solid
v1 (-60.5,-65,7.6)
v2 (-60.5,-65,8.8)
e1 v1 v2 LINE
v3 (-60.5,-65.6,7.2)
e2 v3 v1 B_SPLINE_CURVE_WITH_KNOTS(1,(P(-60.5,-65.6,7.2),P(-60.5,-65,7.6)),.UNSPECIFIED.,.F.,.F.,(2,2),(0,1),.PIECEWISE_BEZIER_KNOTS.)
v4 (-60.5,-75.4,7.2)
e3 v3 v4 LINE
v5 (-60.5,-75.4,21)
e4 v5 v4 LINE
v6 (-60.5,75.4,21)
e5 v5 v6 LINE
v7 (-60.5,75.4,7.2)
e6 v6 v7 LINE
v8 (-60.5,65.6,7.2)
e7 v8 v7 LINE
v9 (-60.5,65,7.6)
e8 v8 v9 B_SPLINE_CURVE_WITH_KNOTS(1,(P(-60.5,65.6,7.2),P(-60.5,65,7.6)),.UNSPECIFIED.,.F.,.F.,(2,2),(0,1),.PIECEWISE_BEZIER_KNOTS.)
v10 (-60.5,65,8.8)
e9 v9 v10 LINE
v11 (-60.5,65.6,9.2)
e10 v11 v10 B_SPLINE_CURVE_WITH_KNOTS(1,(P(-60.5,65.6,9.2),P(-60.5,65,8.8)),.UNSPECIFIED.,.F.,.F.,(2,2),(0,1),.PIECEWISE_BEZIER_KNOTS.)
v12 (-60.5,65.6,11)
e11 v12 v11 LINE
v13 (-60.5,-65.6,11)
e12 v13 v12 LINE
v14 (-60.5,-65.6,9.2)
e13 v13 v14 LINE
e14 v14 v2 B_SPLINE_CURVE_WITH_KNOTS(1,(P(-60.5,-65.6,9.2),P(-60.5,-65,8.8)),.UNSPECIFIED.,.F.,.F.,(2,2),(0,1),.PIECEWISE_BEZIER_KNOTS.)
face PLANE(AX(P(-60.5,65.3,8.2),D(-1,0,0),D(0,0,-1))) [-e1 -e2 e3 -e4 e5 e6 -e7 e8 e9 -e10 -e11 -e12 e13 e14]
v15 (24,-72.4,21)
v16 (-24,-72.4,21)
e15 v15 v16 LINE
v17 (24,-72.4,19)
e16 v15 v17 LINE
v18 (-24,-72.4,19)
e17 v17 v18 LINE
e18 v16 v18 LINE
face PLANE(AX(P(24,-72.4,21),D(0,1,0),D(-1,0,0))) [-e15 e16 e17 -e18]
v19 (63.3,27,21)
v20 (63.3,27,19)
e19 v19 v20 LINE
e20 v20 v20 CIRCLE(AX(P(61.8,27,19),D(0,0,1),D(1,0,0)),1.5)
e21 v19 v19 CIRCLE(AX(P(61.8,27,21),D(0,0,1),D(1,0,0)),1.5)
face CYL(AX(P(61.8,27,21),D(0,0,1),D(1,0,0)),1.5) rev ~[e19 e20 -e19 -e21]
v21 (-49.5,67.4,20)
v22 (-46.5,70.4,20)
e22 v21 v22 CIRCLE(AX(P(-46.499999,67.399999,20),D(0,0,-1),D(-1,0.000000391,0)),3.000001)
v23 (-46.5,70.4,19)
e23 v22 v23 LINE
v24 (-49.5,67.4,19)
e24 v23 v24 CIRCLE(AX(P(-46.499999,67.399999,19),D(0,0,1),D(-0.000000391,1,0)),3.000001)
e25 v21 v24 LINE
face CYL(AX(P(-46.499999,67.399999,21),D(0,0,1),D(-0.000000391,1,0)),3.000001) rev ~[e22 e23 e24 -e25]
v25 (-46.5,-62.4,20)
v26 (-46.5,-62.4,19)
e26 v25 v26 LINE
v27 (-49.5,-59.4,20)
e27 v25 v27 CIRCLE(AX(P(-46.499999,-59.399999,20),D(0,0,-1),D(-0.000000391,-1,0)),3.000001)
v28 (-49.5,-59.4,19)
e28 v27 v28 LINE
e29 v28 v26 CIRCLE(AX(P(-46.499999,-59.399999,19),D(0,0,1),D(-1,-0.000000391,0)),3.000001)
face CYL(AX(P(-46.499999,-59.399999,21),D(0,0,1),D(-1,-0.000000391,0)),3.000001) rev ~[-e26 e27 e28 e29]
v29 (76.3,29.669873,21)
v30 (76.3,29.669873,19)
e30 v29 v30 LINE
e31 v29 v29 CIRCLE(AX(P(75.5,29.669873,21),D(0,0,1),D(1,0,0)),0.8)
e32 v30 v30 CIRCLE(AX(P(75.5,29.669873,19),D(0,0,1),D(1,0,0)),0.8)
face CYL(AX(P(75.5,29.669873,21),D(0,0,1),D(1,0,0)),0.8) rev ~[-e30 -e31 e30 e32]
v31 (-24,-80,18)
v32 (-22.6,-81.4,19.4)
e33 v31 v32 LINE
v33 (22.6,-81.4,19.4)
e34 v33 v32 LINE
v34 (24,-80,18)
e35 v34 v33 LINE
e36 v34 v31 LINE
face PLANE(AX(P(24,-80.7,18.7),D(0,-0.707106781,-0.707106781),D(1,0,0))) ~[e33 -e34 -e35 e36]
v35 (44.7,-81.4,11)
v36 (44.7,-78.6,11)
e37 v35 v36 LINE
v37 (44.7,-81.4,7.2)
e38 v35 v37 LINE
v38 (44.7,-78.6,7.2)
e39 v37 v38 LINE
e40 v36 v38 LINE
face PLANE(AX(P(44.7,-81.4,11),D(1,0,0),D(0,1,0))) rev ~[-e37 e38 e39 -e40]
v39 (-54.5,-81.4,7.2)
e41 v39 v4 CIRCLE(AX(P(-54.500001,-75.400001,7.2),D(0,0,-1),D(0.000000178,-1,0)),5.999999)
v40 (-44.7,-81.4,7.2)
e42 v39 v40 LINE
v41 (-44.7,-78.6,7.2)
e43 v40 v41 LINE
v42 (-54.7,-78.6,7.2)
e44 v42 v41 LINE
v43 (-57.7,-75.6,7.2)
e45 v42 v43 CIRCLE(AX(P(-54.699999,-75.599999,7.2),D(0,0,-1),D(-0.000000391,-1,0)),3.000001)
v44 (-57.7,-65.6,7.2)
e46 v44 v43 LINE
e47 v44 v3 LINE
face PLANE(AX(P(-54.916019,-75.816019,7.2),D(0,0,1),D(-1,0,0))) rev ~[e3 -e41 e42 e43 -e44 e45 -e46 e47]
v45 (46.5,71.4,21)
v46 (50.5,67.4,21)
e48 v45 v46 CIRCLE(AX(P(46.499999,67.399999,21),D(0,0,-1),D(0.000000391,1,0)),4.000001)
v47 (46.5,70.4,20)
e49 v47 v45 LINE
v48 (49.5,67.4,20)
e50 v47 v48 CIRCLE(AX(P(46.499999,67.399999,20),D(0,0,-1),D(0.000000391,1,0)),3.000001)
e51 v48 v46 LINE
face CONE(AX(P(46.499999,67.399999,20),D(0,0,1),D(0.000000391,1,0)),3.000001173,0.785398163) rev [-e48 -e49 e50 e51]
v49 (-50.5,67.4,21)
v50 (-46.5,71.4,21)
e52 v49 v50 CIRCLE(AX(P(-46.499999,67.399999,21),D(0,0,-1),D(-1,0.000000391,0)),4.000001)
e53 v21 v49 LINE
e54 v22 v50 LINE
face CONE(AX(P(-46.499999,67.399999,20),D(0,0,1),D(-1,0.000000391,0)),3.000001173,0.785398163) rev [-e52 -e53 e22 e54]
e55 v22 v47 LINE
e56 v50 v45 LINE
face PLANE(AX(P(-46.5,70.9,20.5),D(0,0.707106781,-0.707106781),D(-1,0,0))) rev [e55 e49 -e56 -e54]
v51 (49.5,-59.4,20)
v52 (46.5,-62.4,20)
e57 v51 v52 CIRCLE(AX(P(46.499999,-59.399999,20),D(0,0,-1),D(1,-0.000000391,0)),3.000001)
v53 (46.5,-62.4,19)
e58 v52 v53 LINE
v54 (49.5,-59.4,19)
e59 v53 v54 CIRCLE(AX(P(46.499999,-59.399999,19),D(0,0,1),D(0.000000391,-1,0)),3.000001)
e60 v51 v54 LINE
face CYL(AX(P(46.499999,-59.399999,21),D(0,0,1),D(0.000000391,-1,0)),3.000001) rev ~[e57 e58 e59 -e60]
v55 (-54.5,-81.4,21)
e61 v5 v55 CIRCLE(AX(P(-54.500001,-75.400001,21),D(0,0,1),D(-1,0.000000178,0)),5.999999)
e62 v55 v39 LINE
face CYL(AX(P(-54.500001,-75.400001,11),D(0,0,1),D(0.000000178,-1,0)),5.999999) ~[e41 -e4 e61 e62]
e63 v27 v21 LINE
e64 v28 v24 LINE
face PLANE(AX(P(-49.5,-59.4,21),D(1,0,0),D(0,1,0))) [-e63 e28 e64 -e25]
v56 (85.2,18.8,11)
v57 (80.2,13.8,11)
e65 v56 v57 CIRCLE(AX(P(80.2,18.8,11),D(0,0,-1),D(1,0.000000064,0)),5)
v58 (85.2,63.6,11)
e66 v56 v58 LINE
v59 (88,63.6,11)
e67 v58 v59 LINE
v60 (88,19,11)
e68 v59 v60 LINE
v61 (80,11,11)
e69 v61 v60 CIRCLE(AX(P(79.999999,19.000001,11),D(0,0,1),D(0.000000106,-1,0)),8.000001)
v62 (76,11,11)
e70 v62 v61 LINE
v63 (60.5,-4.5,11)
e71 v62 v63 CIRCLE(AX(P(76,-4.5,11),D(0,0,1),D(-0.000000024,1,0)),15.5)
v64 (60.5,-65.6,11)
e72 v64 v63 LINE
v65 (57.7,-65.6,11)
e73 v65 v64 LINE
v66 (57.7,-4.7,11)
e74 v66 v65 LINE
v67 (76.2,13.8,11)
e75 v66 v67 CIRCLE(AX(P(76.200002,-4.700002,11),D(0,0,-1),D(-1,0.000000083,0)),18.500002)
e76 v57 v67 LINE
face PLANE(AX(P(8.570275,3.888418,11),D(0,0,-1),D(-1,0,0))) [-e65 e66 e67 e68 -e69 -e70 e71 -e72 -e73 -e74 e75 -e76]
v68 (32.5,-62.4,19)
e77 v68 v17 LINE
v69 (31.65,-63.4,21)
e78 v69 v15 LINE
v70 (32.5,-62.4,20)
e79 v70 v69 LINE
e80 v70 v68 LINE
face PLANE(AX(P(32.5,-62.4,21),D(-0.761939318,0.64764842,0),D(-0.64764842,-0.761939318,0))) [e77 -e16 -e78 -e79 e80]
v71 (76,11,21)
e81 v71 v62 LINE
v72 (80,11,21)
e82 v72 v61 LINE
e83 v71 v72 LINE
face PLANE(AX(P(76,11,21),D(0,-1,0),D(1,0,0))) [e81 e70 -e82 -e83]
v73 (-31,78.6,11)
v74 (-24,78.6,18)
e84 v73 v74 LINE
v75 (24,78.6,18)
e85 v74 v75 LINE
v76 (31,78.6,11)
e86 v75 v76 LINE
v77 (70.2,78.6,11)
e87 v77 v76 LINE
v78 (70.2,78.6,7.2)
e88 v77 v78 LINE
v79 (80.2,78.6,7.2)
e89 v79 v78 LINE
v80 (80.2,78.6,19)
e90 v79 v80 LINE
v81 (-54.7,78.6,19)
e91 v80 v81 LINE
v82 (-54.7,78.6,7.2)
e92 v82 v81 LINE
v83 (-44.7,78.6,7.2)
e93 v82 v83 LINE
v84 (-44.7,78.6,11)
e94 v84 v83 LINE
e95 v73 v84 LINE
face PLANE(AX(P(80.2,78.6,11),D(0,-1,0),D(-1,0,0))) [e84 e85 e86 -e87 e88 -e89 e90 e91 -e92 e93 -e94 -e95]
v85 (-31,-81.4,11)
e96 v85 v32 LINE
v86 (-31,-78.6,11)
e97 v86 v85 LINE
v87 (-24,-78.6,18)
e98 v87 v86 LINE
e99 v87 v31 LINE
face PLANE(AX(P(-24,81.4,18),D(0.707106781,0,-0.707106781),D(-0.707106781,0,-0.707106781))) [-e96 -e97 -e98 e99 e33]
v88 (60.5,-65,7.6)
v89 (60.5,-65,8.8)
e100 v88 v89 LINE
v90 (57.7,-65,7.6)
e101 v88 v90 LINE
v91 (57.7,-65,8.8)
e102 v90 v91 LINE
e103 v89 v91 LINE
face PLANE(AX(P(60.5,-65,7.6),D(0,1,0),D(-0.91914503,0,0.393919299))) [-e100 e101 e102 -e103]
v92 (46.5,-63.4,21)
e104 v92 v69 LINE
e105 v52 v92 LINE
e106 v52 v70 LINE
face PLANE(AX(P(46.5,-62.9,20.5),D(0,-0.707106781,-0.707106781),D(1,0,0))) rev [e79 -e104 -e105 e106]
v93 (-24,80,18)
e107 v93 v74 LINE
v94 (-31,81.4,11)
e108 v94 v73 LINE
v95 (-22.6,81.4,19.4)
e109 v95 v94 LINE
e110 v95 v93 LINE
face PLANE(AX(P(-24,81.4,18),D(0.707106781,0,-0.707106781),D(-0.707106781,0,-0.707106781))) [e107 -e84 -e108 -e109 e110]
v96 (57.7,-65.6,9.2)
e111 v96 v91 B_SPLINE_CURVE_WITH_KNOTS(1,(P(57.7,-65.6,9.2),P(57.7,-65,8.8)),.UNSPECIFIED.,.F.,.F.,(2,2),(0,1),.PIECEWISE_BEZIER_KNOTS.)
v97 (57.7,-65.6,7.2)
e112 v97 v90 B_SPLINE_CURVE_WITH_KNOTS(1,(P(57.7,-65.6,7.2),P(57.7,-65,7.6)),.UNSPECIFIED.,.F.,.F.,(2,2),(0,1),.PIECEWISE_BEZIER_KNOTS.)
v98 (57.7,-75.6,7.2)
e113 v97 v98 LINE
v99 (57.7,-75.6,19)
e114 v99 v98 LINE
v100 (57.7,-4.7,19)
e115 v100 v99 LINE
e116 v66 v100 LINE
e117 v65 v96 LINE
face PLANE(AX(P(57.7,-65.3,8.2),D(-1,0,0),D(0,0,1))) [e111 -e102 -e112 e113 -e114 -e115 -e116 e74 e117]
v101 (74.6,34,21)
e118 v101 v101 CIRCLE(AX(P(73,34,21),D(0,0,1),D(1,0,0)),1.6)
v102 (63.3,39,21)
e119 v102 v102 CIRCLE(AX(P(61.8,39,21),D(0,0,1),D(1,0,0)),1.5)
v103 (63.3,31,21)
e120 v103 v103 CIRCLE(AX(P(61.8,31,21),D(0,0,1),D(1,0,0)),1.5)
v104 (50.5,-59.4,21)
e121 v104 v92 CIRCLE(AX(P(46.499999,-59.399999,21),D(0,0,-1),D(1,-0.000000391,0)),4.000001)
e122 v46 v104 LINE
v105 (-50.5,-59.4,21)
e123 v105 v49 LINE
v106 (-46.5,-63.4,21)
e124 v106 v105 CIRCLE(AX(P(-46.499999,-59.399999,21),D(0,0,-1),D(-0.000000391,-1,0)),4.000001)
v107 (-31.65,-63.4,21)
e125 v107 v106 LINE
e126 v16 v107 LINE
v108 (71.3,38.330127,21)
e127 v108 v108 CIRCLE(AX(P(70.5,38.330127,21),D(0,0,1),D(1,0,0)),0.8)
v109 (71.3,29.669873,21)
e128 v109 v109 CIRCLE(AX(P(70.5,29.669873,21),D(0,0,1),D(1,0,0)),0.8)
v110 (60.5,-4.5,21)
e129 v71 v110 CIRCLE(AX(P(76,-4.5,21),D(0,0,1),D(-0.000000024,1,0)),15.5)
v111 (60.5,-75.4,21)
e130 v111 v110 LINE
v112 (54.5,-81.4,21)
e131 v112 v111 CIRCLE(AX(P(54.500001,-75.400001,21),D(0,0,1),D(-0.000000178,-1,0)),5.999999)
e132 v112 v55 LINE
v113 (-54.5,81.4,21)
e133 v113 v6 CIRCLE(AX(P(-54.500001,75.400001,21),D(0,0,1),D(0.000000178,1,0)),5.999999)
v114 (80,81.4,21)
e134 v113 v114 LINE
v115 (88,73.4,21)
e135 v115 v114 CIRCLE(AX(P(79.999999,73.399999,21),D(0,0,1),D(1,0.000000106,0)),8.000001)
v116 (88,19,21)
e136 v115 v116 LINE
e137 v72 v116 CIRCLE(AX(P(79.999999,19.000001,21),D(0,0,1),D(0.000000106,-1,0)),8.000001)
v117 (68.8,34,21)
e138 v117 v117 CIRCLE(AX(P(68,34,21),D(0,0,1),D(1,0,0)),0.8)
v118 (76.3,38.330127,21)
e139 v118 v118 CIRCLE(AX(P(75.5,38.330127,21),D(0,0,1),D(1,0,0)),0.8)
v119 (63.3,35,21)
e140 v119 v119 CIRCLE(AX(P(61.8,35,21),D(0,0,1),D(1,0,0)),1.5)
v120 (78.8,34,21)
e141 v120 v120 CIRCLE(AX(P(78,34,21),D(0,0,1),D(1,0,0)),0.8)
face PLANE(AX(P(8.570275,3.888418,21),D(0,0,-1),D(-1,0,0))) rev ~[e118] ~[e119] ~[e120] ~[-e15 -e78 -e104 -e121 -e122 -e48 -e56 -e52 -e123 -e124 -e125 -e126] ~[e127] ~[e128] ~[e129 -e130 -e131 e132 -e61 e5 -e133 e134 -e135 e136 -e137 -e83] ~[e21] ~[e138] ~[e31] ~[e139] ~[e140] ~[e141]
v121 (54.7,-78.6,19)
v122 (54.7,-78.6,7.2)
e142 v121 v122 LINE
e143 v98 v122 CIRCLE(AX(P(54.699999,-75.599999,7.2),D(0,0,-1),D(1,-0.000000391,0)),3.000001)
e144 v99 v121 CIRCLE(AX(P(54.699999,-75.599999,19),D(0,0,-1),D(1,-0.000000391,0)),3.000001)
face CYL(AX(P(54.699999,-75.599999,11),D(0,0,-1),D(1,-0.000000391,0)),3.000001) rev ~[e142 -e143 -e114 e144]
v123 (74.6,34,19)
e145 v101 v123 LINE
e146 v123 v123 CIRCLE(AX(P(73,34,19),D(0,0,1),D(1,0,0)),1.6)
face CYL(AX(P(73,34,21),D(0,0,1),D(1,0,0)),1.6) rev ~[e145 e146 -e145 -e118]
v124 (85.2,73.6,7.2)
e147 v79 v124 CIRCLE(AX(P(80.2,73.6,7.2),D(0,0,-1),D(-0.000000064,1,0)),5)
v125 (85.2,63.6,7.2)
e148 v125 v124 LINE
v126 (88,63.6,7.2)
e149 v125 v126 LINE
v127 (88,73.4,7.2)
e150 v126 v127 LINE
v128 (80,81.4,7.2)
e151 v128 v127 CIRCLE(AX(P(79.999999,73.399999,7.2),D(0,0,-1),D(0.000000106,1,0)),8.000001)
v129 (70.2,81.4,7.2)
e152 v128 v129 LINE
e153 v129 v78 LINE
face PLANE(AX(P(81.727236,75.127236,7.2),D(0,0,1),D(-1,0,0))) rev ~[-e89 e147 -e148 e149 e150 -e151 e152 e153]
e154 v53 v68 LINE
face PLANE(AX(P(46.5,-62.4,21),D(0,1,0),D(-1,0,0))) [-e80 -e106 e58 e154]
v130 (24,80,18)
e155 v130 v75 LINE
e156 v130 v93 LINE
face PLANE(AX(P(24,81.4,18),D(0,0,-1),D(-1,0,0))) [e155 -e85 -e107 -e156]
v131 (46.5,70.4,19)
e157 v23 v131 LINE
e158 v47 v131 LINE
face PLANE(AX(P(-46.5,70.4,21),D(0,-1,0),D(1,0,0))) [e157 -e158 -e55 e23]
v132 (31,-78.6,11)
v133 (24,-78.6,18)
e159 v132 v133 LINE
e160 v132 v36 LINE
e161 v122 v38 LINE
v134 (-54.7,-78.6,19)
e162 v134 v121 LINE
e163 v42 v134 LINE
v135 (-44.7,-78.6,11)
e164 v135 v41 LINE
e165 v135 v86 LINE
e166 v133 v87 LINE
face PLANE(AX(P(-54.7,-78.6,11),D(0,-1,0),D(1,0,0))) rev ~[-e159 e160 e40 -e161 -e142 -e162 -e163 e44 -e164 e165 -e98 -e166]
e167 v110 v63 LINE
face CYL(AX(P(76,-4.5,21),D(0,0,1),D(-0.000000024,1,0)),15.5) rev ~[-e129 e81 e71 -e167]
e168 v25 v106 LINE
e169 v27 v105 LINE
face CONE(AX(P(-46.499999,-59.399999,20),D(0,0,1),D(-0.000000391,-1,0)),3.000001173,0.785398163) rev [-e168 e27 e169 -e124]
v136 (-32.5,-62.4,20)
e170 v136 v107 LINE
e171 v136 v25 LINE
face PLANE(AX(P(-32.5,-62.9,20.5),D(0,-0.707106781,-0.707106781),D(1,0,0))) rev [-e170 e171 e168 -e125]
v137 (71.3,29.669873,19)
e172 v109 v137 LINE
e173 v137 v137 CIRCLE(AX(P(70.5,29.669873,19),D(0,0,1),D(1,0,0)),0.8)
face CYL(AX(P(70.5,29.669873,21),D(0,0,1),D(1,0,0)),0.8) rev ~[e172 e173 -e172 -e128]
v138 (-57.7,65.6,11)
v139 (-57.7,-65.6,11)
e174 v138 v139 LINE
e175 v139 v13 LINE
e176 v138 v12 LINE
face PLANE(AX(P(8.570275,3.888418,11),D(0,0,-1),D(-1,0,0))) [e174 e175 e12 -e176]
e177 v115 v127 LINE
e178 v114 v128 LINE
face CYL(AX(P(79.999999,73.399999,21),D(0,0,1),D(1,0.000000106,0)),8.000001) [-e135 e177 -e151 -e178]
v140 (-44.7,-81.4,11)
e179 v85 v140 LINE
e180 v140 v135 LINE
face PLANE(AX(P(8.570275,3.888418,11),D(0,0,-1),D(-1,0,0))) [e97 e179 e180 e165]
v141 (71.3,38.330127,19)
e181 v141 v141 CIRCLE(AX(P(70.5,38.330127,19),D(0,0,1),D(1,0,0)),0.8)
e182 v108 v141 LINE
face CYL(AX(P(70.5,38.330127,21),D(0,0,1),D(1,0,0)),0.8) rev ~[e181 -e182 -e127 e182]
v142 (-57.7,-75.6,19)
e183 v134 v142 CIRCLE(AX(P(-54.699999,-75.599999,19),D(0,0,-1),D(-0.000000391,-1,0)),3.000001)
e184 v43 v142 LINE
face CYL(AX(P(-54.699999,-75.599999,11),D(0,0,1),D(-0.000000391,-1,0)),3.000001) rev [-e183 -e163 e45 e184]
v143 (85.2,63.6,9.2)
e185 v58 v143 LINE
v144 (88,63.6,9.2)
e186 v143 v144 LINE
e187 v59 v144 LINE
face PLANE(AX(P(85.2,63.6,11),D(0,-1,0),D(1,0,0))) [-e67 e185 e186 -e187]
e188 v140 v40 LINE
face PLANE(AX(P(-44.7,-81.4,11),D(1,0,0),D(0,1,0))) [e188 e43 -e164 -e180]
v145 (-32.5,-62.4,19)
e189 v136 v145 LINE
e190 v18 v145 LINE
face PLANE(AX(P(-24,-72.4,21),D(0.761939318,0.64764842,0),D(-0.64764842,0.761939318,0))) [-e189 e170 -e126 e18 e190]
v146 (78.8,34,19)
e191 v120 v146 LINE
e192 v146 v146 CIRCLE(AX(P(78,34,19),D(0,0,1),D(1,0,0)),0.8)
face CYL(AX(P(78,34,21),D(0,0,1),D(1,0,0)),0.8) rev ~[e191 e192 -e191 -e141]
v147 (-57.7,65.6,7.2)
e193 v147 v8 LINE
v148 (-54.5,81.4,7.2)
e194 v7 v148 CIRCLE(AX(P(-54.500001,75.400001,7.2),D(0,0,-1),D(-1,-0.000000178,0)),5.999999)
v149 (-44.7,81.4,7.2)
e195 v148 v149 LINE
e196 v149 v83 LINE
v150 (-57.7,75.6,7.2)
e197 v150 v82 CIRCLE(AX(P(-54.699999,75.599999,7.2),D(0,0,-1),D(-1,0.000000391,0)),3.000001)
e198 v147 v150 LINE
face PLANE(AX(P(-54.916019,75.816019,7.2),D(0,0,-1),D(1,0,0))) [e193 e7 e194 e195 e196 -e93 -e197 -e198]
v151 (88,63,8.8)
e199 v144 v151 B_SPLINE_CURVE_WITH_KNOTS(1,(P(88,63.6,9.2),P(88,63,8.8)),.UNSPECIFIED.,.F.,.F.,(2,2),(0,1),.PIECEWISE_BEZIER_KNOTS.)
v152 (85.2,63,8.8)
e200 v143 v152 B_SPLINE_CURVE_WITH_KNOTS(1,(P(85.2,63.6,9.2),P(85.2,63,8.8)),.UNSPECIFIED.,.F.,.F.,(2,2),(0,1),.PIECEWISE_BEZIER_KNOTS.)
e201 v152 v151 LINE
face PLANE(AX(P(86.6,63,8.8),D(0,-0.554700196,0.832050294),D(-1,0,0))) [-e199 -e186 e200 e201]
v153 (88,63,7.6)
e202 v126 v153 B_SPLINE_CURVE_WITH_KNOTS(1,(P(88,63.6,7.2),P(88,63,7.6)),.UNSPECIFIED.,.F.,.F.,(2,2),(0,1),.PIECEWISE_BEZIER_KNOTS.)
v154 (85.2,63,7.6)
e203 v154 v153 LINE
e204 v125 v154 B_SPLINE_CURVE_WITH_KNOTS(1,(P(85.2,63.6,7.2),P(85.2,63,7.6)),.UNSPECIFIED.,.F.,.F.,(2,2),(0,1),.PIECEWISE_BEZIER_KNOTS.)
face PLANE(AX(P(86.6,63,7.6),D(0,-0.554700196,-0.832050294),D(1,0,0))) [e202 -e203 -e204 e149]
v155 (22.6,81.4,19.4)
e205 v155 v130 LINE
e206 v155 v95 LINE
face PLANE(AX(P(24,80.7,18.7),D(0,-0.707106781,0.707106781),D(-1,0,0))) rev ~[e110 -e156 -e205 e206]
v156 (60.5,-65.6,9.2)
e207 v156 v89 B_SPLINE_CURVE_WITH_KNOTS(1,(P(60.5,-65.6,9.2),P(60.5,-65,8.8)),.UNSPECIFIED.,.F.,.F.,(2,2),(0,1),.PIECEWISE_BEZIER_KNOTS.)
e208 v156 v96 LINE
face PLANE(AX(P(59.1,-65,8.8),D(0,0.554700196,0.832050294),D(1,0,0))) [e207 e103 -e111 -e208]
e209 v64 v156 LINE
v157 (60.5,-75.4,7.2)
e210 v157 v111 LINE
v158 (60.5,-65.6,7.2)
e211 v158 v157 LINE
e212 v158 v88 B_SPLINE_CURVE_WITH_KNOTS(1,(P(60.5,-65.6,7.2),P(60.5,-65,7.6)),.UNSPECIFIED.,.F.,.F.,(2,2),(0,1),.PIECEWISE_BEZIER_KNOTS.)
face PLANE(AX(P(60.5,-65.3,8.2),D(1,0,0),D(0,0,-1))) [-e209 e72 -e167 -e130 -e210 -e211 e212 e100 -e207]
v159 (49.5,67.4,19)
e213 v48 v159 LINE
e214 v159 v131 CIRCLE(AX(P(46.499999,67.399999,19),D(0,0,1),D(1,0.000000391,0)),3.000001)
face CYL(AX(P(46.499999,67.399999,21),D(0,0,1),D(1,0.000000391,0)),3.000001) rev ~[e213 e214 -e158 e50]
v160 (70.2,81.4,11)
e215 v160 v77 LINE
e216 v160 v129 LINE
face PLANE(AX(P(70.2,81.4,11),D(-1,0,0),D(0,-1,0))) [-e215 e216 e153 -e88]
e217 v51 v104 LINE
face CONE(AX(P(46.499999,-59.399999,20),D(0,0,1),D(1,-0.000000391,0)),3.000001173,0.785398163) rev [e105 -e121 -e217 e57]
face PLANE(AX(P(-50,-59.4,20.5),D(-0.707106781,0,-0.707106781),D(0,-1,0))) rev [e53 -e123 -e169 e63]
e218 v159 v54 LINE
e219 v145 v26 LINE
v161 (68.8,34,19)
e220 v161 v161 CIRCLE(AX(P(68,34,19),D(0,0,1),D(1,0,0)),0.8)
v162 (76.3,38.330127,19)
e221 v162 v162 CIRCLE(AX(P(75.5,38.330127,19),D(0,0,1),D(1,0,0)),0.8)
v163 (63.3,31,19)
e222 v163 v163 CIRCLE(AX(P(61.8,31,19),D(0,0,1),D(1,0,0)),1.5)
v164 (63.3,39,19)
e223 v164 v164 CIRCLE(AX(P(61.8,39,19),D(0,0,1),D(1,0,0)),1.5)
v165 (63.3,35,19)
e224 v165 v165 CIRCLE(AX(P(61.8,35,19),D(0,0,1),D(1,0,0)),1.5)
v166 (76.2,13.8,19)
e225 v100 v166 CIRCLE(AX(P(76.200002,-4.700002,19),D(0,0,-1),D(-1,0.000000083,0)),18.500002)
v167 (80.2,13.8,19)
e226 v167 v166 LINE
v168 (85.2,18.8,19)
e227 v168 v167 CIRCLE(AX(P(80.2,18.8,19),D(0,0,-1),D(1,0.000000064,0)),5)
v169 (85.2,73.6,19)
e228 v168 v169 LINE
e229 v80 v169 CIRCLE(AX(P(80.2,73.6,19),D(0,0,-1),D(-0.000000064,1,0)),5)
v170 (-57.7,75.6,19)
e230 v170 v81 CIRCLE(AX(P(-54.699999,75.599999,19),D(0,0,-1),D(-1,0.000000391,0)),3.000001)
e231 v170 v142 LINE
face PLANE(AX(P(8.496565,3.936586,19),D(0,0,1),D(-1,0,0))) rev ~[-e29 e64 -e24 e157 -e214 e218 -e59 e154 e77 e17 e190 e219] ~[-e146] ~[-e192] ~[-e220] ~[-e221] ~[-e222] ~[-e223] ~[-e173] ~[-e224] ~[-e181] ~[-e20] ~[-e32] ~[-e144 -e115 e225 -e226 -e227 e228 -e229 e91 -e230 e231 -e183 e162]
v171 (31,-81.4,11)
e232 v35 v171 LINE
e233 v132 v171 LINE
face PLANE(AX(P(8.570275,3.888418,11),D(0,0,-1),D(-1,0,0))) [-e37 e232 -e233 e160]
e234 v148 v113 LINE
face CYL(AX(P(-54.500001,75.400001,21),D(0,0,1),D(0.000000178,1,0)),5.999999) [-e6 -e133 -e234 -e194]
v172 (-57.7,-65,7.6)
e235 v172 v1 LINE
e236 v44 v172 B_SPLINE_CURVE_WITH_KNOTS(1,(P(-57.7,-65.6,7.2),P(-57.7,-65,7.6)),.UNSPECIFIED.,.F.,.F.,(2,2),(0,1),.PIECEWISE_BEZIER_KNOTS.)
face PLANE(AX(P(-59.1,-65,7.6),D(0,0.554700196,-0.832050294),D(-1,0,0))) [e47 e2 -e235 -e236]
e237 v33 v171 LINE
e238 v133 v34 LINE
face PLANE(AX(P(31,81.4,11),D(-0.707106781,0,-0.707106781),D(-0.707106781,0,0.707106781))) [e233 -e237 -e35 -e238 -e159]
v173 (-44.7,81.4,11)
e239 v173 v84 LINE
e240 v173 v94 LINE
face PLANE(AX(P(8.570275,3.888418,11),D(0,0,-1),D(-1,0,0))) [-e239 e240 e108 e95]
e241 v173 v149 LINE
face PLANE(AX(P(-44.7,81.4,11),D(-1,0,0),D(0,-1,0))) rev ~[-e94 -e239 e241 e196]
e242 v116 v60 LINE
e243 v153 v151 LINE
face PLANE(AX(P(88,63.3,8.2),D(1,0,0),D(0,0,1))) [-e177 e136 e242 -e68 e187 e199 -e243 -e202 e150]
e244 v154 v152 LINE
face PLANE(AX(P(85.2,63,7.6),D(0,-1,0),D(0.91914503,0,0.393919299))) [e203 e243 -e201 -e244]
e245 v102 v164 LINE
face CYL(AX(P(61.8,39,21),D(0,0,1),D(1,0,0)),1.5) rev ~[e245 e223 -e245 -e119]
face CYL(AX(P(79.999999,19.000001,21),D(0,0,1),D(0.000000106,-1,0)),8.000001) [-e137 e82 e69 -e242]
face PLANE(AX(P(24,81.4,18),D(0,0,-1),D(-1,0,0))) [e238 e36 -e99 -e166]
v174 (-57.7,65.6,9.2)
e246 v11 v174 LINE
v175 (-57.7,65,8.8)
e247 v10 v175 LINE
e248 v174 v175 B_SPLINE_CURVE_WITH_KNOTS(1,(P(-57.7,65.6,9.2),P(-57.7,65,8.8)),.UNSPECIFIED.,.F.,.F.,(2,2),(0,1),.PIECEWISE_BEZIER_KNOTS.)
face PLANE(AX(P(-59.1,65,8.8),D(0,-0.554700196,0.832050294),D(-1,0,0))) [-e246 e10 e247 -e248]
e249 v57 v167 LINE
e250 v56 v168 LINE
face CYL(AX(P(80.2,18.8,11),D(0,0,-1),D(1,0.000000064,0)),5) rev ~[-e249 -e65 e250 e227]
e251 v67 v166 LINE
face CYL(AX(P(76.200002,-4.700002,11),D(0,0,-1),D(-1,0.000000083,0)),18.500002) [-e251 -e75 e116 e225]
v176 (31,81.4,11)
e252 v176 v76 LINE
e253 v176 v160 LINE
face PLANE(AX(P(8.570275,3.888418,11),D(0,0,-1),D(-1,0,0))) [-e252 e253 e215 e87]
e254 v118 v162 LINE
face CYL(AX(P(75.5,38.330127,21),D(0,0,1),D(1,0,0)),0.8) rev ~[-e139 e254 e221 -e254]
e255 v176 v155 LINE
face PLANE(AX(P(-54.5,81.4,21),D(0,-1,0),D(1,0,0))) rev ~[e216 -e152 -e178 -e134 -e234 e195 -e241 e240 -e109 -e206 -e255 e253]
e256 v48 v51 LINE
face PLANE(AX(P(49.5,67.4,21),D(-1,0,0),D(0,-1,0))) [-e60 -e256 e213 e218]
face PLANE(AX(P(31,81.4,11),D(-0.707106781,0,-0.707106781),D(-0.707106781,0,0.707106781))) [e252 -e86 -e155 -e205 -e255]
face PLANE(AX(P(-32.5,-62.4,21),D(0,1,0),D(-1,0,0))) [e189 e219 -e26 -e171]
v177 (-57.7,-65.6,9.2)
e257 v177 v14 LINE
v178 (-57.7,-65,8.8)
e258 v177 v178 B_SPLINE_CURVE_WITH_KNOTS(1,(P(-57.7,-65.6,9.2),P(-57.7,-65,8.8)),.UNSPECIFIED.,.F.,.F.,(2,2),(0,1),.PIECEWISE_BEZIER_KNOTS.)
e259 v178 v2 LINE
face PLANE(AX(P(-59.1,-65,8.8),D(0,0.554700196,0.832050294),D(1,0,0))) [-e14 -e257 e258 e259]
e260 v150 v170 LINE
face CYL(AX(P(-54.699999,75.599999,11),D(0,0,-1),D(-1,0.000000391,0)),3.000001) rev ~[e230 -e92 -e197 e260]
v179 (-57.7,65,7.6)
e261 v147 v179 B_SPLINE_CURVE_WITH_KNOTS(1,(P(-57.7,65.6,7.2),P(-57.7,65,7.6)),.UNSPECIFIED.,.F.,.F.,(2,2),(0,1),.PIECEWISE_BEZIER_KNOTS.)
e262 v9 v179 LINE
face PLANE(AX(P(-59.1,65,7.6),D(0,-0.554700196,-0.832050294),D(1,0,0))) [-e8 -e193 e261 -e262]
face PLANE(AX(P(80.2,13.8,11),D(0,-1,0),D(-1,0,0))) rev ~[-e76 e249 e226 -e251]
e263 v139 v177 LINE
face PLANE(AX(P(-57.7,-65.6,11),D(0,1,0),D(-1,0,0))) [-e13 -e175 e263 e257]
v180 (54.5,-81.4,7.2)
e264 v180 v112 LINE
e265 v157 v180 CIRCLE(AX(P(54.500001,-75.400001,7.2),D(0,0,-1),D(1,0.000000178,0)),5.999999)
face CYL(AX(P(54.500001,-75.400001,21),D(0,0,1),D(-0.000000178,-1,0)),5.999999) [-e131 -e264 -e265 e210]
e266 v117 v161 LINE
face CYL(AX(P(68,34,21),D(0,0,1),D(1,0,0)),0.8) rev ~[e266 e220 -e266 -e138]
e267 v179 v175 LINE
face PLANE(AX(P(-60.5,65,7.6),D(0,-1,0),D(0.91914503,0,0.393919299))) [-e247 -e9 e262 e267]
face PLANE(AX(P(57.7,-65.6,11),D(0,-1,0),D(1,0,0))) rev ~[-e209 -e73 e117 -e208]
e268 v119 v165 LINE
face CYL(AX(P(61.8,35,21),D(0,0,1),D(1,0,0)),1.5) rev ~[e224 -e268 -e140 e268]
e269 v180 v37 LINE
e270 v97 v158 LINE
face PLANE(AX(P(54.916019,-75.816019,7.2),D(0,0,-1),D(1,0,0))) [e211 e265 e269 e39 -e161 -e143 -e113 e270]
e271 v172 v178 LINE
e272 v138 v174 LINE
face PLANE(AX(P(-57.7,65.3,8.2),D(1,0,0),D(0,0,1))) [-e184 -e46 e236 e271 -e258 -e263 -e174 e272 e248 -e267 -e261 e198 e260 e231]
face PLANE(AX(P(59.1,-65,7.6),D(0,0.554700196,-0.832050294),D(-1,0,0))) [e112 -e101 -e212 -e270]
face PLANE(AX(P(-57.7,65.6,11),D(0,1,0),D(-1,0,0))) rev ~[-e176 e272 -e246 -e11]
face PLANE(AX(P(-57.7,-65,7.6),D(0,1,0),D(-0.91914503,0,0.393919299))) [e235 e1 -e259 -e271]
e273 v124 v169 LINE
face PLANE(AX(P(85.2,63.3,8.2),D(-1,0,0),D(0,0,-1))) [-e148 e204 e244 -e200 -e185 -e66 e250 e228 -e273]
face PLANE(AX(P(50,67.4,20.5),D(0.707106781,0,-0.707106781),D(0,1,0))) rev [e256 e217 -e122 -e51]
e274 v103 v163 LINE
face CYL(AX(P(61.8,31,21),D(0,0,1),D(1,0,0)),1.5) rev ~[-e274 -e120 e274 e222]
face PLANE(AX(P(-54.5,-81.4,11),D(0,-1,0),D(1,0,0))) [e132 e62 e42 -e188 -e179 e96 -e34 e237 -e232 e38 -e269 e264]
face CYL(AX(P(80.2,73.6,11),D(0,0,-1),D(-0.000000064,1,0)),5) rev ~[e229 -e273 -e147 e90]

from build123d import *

# Parameters (mm, degrees)
PAD007_DEPTH    = 10
POCKET006_DEPTH = 8
POCKET007_DEPTH = 2
SKETCH022_R     = 1.5
SKETCH022_R_2   = 1.6
SKETCH022_R_3   = 0.8
POCKET009_DEPTH = 2
POCKET010_DEPTH = 162.801
PAD011_DEPTH    = 3.8
SKETCH045_W     = 2.8
SKETCH045_H     = 2
SKETCH046_W     = 2.8
SKETCH046_H     = 1.2
SKETCH047_W     = 2.8
SKETCH047_H     = 2
SKETCH048_W     = 2.8
SKETCH048_H     = 1.2
SKETCH049_W     = 2.8
SKETCH049_H     = 2
SKETCH050_W     = 2.8
SKETCH050_H     = 1.2
SKETCH051_W     = 2.8
SKETCH051_H     = 2
SKETCH052_W     = 2.8
SKETCH052_H     = 1.2
CHAMFER003_SIZE = 1.4
CHAMFER004_SIZE = 1


with BuildPart() as part:
    # Sketch014 → Pad007 (new body)
    with BuildSketch(Plane.XY):
        with BuildLine():
            Line((-54.5, 81.4), (80, 81.4))
            ThreePointArc((88, 73.4), (85.656854, 79.056854), (80, 81.4))
            Line((88, 73.4), (88, 19))
            ThreePointArc((80, 11), (85.656854, 13.343146), (88, 19))
            Line((76, 11), (80, 11))
            ThreePointArc((76, 11), (65.039845, 6.460155), (60.5, -4.5))
            Line((60.5, -75.4), (60.5, -4.5))
            ThreePointArc((54.5, -81.4), (58.742641, -79.642641), (60.5, -75.4))
            Line((54.5, -81.4), (-54.5, -81.4))
            ThreePointArc((-60.5, -75.4), (-58.742641, -79.642641), (-54.5, -81.4))
            Line((-60.5, -75.4), (-60.5, 75.4))
            ThreePointArc((-54.5, 81.4), (-58.742641, 79.642641), (-60.5, 75.4))
        make_face()
    extrude(amount=-PAD007_DEPTH)

    # Sketch017 (on Face14 of Pad007) → Pocket006 (cut)
    with BuildSketch(Plane(origin=(0, 0, -10), x_dir=(1, 0, 0), z_dir=(0, 0, -1))):
        with BuildLine():
            Line((-54.7, 78.6), (54.7, 78.6))
            ThreePointArc((57.7, 75.6), (56.82132, 77.72132), (54.7, 78.6))
            Line((57.7, 4.7), (57.7, 75.6))
            ThreePointArc((57.7, 4.7), (63.118525, -8.381475), (76.2, -13.8))
            Line((80.2, -13.8), (76.2, -13.8))
            ThreePointArc((85.2, -18.8), (83.735534, -15.264466), (80.2, -13.8))
            Line((85.2, -18.8), (85.2, -73.6))
            ThreePointArc((80.2, -78.6), (83.735534, -77.135534), (85.2, -73.6))
            Line((80.2, -78.6), (-54.7, -78.6))
            ThreePointArc((-57.7, -75.6), (-56.82132, -77.72132), (-54.7, -78.6))
            Line((-57.7, -75.6), (-57.7, 75.6))
            ThreePointArc((-54.7, 78.6), (-56.82132, 77.72132), (-57.7, 75.6))
        make_face()
    extrude(amount=-POCKET006_DEPTH, mode=Mode.SUBTRACT)

    # Sketch018 (on Face4 of Pocket006) → Pocket007 (cut)
    with BuildSketch(Plane.XY):
        with BuildLine():
            Line((-46.5, 70.4), (46.5, 70.4))
            ThreePointArc((49.5, 67.4), (48.62132, 69.52132), (46.5, 70.4))
            Line((49.5, 67.4), (49.5, -59.4))
            ThreePointArc((46.5, -62.4), (48.62132, -61.52132), (49.5, -59.4))
            Line((46.5, -62.4), (32.5, -62.4))
            Line((32.5, -62.4), (24, -72.4))
            Line((24, -72.4), (-24, -72.4))
            Line((-24, -72.4), (-32.5, -62.4))
            Line((-32.5, -62.4), (-46.5, -62.4))
            ThreePointArc((-49.5, -59.4), (-48.62132, -61.52132), (-46.5, -62.4))
            Line((-49.5, -59.4), (-49.5, 67.4))
            ThreePointArc((-46.5, 70.4), (-48.62132, 69.52132), (-49.5, 67.4))
        make_face()
    extrude(amount=-POCKET007_DEPTH, mode=Mode.SUBTRACT)

    # Sketch022 (on Face4 of Pocket007) → Pocket009 (cut)
    with BuildSketch(Plane.XY):
        with Locations((61.8, 39)):
            Circle(SKETCH022_R)
        with Locations((61.8, 35)):
            Circle(SKETCH022_R)
        with Locations((61.8, 31)):
            Circle(SKETCH022_R)
        with Locations((61.8, 27)):
            Circle(SKETCH022_R)
        with Locations((73, 34)):
            Circle(SKETCH022_R_2)
        with Locations((70.5, 38.330127)):
            Circle(SKETCH022_R_3)
        with Locations((75.5, 38.330127)):
            Circle(SKETCH022_R_3)
        with Locations((78, 34)):
            Circle(SKETCH022_R_3)
        with Locations((75.5, 29.669873)):
            Circle(SKETCH022_R_3)
        with Locations((70.5, 29.669873)):
            Circle(SKETCH022_R_3)
        with Locations((68, 34)):
            Circle(SKETCH022_R_3)
    extrude(amount=-POCKET009_DEPTH, mode=Mode.SUBTRACT)

    # Sketch023 (on Face7 of Pocket009) → Pocket010 (cut, through all)
    with BuildSketch(Plane(origin=(0, 81.4, 0), x_dir=(-1, 0, 0), z_dir=(0, 1, 0))):
        Polygon((-24, -3), (24, -3), (31, -10), (-31, -10), align=None)
    extrude(amount=-POCKET010_DEPTH, mode=Mode.SUBTRACT)

    # Sketch026 (on Face5 of Pocket010) → Pad011 (join)
    with BuildSketch(Plane(origin=(0, 0, -10), x_dir=(1, 0, 0), z_dir=(0, 0, -1))):
        with BuildLine():
            Line((-54.5, 81.4), (-44.7, 81.4))
            Line((-44.7, 81.4), (-44.7, 78.6))
            Line((-54.7, 78.6), (-44.7, 78.6))
            ThreePointArc((-54.7, 78.6), (-56.82132, 77.72132), (-57.7, 75.6))
            Line((-57.7, 65.6), (-57.7, 75.6))
            Line((-57.7, 65.6), (-60.5, 65.6))
            Line((-60.5, 65.6), (-60.5, 75.4))
            ThreePointArc((-54.5, 81.4), (-58.742641, 79.642641), (-60.5, 75.4))
        make_face()
        with BuildLine():
            Line((54.5, 81.4), (44.7, 81.4))
            Line((44.7, 81.4), (44.7, 78.6))
            Line((54.7, 78.6), (44.7, 78.6))
            ThreePointArc((57.7, 75.6), (56.82132, 77.72132), (54.7, 78.6))
            Line((57.7, 65.6), (57.7, 75.6))
            Line((57.7, 65.6), (60.5, 65.6))
            Line((60.5, 65.6), (60.5, 75.4))
            ThreePointArc((60.5, 75.4), (58.742641, 79.642641), (54.5, 81.4))
        make_face()
        with BuildLine():
            Line((-54.5, -81.4), (-44.7, -81.4))
            Line((-44.7, -81.4), (-44.7, -78.6))
            Line((-54.7, -78.6), (-44.7, -78.6))
            ThreePointArc((-57.7, -75.6), (-56.82132, -77.72132), (-54.7, -78.6))
            Line((-57.7, -65.6), (-57.7, -75.6))
            Line((-57.7, -65.6), (-60.5, -65.6))
            Line((-60.5, -65.6), (-60.5, -75.4))
            ThreePointArc((-60.5, -75.4), (-58.742641, -79.642641), (-54.5, -81.4))
        make_face()
        with BuildLine():
            Line((80, -81.4), (70.2, -81.4))
            Line((70.2, -81.4), (70.2, -78.6))
            Line((80.2, -78.6), (70.2, -78.6))
            ThreePointArc((80.2, -78.6), (83.735534, -77.135534), (85.2, -73.6))
            Line((85.2, -63.6), (85.2, -73.6))
            Line((85.2, -63.6), (88, -63.6))
            Line((88, -63.6), (88, -73.4))
            ThreePointArc((80, -81.4), (85.656854, -79.056854), (88, -73.4))
        make_face()
    extrude(amount=PAD011_DEPTH)

    # Sketch045 (on DatumPlane) → AdditiveLoft section 0
    with BuildSketch(Plane(origin=(0, -65.6, 0), x_dir=(-1, 0, 0), z_dir=(0, 1, 0))):
        with Locations((-59.1, -12.8)):
            Rectangle(SKETCH045_W, SKETCH045_H)
    # Sketch046 (on DatumPlane) → AdditiveLoft section 1
    with BuildSketch(Plane(origin=(0, -65, 0), x_dir=(-1, 0, 0), z_dir=(0, 1, 0))):
        with Locations((-59.1, -12.8)):
            Rectangle(SKETCH046_W, SKETCH046_H)
    loft()

    # Sketch047 (on DatumPlane) → AdditiveLoft001 section 0
    with BuildSketch(Plane(origin=(0, -65.6, 0), x_dir=(-1, 0, 0), z_dir=(0, 1, 0))):
        with Locations((59.1, -12.8)):
            Rectangle(SKETCH047_W, SKETCH047_H)
    # Sketch048 (on DatumPlane) → AdditiveLoft001 section 1
    with BuildSketch(Plane(origin=(0, -65, 0), x_dir=(-1, 0, 0), z_dir=(0, 1, 0))):
        with Locations((59.1, -12.8)):
            Rectangle(SKETCH048_W, SKETCH048_H)
    loft()

    # Sketch049 (on DatumPlane) → AdditiveLoft002 section 0
    with BuildSketch(Plane.XZ.offset(-65.6)):
        with Locations((-59.1, -12.8)):
            Rectangle(SKETCH049_W, SKETCH049_H)
    # Sketch050 (on DatumPlane) → AdditiveLoft002 section 1
    with BuildSketch(Plane.XZ.offset(-65)):
        with Locations((-59.1, -12.8)):
            Rectangle(SKETCH050_W, SKETCH050_H)
    loft()

    # Sketch051 (on DatumPlane) → AdditiveLoft003 section 0
    with BuildSketch(Plane.XZ.offset(-63.6)):
        with Locations((86.6, -12.8)):
            Rectangle(SKETCH051_W, SKETCH051_H)
    # Sketch052 (on DatumPlane) → AdditiveLoft003 section 1
    with BuildSketch(Plane.XZ.offset(-63)):
        with Locations((86.6, -12.8)):
            Rectangle(SKETCH052_W, SKETCH052_H)
    loft()

    # Chamfer003
    chamfer003_edges = [part.edges().sort_by_distance(p)[0] for p in [
        (0, -81.4, -3),
        (0, 81.4, -3),
    ]]
    chamfer(chamfer003_edges, length=CHAMFER003_SIZE)

    # Chamfer004
    chamfer004_edges = [part.edges().sort_by_distance(p)[0] for p in [
        (-49.5, 4, 0),
    ]]
    chamfer(chamfer004_edges, length=CHAMFER004_SIZE)


with BuildPart() as part_1:
    # Body002 placement: moved
    add(part.part.moved(Location((0, 0, 21))))


solid = part_1.part
